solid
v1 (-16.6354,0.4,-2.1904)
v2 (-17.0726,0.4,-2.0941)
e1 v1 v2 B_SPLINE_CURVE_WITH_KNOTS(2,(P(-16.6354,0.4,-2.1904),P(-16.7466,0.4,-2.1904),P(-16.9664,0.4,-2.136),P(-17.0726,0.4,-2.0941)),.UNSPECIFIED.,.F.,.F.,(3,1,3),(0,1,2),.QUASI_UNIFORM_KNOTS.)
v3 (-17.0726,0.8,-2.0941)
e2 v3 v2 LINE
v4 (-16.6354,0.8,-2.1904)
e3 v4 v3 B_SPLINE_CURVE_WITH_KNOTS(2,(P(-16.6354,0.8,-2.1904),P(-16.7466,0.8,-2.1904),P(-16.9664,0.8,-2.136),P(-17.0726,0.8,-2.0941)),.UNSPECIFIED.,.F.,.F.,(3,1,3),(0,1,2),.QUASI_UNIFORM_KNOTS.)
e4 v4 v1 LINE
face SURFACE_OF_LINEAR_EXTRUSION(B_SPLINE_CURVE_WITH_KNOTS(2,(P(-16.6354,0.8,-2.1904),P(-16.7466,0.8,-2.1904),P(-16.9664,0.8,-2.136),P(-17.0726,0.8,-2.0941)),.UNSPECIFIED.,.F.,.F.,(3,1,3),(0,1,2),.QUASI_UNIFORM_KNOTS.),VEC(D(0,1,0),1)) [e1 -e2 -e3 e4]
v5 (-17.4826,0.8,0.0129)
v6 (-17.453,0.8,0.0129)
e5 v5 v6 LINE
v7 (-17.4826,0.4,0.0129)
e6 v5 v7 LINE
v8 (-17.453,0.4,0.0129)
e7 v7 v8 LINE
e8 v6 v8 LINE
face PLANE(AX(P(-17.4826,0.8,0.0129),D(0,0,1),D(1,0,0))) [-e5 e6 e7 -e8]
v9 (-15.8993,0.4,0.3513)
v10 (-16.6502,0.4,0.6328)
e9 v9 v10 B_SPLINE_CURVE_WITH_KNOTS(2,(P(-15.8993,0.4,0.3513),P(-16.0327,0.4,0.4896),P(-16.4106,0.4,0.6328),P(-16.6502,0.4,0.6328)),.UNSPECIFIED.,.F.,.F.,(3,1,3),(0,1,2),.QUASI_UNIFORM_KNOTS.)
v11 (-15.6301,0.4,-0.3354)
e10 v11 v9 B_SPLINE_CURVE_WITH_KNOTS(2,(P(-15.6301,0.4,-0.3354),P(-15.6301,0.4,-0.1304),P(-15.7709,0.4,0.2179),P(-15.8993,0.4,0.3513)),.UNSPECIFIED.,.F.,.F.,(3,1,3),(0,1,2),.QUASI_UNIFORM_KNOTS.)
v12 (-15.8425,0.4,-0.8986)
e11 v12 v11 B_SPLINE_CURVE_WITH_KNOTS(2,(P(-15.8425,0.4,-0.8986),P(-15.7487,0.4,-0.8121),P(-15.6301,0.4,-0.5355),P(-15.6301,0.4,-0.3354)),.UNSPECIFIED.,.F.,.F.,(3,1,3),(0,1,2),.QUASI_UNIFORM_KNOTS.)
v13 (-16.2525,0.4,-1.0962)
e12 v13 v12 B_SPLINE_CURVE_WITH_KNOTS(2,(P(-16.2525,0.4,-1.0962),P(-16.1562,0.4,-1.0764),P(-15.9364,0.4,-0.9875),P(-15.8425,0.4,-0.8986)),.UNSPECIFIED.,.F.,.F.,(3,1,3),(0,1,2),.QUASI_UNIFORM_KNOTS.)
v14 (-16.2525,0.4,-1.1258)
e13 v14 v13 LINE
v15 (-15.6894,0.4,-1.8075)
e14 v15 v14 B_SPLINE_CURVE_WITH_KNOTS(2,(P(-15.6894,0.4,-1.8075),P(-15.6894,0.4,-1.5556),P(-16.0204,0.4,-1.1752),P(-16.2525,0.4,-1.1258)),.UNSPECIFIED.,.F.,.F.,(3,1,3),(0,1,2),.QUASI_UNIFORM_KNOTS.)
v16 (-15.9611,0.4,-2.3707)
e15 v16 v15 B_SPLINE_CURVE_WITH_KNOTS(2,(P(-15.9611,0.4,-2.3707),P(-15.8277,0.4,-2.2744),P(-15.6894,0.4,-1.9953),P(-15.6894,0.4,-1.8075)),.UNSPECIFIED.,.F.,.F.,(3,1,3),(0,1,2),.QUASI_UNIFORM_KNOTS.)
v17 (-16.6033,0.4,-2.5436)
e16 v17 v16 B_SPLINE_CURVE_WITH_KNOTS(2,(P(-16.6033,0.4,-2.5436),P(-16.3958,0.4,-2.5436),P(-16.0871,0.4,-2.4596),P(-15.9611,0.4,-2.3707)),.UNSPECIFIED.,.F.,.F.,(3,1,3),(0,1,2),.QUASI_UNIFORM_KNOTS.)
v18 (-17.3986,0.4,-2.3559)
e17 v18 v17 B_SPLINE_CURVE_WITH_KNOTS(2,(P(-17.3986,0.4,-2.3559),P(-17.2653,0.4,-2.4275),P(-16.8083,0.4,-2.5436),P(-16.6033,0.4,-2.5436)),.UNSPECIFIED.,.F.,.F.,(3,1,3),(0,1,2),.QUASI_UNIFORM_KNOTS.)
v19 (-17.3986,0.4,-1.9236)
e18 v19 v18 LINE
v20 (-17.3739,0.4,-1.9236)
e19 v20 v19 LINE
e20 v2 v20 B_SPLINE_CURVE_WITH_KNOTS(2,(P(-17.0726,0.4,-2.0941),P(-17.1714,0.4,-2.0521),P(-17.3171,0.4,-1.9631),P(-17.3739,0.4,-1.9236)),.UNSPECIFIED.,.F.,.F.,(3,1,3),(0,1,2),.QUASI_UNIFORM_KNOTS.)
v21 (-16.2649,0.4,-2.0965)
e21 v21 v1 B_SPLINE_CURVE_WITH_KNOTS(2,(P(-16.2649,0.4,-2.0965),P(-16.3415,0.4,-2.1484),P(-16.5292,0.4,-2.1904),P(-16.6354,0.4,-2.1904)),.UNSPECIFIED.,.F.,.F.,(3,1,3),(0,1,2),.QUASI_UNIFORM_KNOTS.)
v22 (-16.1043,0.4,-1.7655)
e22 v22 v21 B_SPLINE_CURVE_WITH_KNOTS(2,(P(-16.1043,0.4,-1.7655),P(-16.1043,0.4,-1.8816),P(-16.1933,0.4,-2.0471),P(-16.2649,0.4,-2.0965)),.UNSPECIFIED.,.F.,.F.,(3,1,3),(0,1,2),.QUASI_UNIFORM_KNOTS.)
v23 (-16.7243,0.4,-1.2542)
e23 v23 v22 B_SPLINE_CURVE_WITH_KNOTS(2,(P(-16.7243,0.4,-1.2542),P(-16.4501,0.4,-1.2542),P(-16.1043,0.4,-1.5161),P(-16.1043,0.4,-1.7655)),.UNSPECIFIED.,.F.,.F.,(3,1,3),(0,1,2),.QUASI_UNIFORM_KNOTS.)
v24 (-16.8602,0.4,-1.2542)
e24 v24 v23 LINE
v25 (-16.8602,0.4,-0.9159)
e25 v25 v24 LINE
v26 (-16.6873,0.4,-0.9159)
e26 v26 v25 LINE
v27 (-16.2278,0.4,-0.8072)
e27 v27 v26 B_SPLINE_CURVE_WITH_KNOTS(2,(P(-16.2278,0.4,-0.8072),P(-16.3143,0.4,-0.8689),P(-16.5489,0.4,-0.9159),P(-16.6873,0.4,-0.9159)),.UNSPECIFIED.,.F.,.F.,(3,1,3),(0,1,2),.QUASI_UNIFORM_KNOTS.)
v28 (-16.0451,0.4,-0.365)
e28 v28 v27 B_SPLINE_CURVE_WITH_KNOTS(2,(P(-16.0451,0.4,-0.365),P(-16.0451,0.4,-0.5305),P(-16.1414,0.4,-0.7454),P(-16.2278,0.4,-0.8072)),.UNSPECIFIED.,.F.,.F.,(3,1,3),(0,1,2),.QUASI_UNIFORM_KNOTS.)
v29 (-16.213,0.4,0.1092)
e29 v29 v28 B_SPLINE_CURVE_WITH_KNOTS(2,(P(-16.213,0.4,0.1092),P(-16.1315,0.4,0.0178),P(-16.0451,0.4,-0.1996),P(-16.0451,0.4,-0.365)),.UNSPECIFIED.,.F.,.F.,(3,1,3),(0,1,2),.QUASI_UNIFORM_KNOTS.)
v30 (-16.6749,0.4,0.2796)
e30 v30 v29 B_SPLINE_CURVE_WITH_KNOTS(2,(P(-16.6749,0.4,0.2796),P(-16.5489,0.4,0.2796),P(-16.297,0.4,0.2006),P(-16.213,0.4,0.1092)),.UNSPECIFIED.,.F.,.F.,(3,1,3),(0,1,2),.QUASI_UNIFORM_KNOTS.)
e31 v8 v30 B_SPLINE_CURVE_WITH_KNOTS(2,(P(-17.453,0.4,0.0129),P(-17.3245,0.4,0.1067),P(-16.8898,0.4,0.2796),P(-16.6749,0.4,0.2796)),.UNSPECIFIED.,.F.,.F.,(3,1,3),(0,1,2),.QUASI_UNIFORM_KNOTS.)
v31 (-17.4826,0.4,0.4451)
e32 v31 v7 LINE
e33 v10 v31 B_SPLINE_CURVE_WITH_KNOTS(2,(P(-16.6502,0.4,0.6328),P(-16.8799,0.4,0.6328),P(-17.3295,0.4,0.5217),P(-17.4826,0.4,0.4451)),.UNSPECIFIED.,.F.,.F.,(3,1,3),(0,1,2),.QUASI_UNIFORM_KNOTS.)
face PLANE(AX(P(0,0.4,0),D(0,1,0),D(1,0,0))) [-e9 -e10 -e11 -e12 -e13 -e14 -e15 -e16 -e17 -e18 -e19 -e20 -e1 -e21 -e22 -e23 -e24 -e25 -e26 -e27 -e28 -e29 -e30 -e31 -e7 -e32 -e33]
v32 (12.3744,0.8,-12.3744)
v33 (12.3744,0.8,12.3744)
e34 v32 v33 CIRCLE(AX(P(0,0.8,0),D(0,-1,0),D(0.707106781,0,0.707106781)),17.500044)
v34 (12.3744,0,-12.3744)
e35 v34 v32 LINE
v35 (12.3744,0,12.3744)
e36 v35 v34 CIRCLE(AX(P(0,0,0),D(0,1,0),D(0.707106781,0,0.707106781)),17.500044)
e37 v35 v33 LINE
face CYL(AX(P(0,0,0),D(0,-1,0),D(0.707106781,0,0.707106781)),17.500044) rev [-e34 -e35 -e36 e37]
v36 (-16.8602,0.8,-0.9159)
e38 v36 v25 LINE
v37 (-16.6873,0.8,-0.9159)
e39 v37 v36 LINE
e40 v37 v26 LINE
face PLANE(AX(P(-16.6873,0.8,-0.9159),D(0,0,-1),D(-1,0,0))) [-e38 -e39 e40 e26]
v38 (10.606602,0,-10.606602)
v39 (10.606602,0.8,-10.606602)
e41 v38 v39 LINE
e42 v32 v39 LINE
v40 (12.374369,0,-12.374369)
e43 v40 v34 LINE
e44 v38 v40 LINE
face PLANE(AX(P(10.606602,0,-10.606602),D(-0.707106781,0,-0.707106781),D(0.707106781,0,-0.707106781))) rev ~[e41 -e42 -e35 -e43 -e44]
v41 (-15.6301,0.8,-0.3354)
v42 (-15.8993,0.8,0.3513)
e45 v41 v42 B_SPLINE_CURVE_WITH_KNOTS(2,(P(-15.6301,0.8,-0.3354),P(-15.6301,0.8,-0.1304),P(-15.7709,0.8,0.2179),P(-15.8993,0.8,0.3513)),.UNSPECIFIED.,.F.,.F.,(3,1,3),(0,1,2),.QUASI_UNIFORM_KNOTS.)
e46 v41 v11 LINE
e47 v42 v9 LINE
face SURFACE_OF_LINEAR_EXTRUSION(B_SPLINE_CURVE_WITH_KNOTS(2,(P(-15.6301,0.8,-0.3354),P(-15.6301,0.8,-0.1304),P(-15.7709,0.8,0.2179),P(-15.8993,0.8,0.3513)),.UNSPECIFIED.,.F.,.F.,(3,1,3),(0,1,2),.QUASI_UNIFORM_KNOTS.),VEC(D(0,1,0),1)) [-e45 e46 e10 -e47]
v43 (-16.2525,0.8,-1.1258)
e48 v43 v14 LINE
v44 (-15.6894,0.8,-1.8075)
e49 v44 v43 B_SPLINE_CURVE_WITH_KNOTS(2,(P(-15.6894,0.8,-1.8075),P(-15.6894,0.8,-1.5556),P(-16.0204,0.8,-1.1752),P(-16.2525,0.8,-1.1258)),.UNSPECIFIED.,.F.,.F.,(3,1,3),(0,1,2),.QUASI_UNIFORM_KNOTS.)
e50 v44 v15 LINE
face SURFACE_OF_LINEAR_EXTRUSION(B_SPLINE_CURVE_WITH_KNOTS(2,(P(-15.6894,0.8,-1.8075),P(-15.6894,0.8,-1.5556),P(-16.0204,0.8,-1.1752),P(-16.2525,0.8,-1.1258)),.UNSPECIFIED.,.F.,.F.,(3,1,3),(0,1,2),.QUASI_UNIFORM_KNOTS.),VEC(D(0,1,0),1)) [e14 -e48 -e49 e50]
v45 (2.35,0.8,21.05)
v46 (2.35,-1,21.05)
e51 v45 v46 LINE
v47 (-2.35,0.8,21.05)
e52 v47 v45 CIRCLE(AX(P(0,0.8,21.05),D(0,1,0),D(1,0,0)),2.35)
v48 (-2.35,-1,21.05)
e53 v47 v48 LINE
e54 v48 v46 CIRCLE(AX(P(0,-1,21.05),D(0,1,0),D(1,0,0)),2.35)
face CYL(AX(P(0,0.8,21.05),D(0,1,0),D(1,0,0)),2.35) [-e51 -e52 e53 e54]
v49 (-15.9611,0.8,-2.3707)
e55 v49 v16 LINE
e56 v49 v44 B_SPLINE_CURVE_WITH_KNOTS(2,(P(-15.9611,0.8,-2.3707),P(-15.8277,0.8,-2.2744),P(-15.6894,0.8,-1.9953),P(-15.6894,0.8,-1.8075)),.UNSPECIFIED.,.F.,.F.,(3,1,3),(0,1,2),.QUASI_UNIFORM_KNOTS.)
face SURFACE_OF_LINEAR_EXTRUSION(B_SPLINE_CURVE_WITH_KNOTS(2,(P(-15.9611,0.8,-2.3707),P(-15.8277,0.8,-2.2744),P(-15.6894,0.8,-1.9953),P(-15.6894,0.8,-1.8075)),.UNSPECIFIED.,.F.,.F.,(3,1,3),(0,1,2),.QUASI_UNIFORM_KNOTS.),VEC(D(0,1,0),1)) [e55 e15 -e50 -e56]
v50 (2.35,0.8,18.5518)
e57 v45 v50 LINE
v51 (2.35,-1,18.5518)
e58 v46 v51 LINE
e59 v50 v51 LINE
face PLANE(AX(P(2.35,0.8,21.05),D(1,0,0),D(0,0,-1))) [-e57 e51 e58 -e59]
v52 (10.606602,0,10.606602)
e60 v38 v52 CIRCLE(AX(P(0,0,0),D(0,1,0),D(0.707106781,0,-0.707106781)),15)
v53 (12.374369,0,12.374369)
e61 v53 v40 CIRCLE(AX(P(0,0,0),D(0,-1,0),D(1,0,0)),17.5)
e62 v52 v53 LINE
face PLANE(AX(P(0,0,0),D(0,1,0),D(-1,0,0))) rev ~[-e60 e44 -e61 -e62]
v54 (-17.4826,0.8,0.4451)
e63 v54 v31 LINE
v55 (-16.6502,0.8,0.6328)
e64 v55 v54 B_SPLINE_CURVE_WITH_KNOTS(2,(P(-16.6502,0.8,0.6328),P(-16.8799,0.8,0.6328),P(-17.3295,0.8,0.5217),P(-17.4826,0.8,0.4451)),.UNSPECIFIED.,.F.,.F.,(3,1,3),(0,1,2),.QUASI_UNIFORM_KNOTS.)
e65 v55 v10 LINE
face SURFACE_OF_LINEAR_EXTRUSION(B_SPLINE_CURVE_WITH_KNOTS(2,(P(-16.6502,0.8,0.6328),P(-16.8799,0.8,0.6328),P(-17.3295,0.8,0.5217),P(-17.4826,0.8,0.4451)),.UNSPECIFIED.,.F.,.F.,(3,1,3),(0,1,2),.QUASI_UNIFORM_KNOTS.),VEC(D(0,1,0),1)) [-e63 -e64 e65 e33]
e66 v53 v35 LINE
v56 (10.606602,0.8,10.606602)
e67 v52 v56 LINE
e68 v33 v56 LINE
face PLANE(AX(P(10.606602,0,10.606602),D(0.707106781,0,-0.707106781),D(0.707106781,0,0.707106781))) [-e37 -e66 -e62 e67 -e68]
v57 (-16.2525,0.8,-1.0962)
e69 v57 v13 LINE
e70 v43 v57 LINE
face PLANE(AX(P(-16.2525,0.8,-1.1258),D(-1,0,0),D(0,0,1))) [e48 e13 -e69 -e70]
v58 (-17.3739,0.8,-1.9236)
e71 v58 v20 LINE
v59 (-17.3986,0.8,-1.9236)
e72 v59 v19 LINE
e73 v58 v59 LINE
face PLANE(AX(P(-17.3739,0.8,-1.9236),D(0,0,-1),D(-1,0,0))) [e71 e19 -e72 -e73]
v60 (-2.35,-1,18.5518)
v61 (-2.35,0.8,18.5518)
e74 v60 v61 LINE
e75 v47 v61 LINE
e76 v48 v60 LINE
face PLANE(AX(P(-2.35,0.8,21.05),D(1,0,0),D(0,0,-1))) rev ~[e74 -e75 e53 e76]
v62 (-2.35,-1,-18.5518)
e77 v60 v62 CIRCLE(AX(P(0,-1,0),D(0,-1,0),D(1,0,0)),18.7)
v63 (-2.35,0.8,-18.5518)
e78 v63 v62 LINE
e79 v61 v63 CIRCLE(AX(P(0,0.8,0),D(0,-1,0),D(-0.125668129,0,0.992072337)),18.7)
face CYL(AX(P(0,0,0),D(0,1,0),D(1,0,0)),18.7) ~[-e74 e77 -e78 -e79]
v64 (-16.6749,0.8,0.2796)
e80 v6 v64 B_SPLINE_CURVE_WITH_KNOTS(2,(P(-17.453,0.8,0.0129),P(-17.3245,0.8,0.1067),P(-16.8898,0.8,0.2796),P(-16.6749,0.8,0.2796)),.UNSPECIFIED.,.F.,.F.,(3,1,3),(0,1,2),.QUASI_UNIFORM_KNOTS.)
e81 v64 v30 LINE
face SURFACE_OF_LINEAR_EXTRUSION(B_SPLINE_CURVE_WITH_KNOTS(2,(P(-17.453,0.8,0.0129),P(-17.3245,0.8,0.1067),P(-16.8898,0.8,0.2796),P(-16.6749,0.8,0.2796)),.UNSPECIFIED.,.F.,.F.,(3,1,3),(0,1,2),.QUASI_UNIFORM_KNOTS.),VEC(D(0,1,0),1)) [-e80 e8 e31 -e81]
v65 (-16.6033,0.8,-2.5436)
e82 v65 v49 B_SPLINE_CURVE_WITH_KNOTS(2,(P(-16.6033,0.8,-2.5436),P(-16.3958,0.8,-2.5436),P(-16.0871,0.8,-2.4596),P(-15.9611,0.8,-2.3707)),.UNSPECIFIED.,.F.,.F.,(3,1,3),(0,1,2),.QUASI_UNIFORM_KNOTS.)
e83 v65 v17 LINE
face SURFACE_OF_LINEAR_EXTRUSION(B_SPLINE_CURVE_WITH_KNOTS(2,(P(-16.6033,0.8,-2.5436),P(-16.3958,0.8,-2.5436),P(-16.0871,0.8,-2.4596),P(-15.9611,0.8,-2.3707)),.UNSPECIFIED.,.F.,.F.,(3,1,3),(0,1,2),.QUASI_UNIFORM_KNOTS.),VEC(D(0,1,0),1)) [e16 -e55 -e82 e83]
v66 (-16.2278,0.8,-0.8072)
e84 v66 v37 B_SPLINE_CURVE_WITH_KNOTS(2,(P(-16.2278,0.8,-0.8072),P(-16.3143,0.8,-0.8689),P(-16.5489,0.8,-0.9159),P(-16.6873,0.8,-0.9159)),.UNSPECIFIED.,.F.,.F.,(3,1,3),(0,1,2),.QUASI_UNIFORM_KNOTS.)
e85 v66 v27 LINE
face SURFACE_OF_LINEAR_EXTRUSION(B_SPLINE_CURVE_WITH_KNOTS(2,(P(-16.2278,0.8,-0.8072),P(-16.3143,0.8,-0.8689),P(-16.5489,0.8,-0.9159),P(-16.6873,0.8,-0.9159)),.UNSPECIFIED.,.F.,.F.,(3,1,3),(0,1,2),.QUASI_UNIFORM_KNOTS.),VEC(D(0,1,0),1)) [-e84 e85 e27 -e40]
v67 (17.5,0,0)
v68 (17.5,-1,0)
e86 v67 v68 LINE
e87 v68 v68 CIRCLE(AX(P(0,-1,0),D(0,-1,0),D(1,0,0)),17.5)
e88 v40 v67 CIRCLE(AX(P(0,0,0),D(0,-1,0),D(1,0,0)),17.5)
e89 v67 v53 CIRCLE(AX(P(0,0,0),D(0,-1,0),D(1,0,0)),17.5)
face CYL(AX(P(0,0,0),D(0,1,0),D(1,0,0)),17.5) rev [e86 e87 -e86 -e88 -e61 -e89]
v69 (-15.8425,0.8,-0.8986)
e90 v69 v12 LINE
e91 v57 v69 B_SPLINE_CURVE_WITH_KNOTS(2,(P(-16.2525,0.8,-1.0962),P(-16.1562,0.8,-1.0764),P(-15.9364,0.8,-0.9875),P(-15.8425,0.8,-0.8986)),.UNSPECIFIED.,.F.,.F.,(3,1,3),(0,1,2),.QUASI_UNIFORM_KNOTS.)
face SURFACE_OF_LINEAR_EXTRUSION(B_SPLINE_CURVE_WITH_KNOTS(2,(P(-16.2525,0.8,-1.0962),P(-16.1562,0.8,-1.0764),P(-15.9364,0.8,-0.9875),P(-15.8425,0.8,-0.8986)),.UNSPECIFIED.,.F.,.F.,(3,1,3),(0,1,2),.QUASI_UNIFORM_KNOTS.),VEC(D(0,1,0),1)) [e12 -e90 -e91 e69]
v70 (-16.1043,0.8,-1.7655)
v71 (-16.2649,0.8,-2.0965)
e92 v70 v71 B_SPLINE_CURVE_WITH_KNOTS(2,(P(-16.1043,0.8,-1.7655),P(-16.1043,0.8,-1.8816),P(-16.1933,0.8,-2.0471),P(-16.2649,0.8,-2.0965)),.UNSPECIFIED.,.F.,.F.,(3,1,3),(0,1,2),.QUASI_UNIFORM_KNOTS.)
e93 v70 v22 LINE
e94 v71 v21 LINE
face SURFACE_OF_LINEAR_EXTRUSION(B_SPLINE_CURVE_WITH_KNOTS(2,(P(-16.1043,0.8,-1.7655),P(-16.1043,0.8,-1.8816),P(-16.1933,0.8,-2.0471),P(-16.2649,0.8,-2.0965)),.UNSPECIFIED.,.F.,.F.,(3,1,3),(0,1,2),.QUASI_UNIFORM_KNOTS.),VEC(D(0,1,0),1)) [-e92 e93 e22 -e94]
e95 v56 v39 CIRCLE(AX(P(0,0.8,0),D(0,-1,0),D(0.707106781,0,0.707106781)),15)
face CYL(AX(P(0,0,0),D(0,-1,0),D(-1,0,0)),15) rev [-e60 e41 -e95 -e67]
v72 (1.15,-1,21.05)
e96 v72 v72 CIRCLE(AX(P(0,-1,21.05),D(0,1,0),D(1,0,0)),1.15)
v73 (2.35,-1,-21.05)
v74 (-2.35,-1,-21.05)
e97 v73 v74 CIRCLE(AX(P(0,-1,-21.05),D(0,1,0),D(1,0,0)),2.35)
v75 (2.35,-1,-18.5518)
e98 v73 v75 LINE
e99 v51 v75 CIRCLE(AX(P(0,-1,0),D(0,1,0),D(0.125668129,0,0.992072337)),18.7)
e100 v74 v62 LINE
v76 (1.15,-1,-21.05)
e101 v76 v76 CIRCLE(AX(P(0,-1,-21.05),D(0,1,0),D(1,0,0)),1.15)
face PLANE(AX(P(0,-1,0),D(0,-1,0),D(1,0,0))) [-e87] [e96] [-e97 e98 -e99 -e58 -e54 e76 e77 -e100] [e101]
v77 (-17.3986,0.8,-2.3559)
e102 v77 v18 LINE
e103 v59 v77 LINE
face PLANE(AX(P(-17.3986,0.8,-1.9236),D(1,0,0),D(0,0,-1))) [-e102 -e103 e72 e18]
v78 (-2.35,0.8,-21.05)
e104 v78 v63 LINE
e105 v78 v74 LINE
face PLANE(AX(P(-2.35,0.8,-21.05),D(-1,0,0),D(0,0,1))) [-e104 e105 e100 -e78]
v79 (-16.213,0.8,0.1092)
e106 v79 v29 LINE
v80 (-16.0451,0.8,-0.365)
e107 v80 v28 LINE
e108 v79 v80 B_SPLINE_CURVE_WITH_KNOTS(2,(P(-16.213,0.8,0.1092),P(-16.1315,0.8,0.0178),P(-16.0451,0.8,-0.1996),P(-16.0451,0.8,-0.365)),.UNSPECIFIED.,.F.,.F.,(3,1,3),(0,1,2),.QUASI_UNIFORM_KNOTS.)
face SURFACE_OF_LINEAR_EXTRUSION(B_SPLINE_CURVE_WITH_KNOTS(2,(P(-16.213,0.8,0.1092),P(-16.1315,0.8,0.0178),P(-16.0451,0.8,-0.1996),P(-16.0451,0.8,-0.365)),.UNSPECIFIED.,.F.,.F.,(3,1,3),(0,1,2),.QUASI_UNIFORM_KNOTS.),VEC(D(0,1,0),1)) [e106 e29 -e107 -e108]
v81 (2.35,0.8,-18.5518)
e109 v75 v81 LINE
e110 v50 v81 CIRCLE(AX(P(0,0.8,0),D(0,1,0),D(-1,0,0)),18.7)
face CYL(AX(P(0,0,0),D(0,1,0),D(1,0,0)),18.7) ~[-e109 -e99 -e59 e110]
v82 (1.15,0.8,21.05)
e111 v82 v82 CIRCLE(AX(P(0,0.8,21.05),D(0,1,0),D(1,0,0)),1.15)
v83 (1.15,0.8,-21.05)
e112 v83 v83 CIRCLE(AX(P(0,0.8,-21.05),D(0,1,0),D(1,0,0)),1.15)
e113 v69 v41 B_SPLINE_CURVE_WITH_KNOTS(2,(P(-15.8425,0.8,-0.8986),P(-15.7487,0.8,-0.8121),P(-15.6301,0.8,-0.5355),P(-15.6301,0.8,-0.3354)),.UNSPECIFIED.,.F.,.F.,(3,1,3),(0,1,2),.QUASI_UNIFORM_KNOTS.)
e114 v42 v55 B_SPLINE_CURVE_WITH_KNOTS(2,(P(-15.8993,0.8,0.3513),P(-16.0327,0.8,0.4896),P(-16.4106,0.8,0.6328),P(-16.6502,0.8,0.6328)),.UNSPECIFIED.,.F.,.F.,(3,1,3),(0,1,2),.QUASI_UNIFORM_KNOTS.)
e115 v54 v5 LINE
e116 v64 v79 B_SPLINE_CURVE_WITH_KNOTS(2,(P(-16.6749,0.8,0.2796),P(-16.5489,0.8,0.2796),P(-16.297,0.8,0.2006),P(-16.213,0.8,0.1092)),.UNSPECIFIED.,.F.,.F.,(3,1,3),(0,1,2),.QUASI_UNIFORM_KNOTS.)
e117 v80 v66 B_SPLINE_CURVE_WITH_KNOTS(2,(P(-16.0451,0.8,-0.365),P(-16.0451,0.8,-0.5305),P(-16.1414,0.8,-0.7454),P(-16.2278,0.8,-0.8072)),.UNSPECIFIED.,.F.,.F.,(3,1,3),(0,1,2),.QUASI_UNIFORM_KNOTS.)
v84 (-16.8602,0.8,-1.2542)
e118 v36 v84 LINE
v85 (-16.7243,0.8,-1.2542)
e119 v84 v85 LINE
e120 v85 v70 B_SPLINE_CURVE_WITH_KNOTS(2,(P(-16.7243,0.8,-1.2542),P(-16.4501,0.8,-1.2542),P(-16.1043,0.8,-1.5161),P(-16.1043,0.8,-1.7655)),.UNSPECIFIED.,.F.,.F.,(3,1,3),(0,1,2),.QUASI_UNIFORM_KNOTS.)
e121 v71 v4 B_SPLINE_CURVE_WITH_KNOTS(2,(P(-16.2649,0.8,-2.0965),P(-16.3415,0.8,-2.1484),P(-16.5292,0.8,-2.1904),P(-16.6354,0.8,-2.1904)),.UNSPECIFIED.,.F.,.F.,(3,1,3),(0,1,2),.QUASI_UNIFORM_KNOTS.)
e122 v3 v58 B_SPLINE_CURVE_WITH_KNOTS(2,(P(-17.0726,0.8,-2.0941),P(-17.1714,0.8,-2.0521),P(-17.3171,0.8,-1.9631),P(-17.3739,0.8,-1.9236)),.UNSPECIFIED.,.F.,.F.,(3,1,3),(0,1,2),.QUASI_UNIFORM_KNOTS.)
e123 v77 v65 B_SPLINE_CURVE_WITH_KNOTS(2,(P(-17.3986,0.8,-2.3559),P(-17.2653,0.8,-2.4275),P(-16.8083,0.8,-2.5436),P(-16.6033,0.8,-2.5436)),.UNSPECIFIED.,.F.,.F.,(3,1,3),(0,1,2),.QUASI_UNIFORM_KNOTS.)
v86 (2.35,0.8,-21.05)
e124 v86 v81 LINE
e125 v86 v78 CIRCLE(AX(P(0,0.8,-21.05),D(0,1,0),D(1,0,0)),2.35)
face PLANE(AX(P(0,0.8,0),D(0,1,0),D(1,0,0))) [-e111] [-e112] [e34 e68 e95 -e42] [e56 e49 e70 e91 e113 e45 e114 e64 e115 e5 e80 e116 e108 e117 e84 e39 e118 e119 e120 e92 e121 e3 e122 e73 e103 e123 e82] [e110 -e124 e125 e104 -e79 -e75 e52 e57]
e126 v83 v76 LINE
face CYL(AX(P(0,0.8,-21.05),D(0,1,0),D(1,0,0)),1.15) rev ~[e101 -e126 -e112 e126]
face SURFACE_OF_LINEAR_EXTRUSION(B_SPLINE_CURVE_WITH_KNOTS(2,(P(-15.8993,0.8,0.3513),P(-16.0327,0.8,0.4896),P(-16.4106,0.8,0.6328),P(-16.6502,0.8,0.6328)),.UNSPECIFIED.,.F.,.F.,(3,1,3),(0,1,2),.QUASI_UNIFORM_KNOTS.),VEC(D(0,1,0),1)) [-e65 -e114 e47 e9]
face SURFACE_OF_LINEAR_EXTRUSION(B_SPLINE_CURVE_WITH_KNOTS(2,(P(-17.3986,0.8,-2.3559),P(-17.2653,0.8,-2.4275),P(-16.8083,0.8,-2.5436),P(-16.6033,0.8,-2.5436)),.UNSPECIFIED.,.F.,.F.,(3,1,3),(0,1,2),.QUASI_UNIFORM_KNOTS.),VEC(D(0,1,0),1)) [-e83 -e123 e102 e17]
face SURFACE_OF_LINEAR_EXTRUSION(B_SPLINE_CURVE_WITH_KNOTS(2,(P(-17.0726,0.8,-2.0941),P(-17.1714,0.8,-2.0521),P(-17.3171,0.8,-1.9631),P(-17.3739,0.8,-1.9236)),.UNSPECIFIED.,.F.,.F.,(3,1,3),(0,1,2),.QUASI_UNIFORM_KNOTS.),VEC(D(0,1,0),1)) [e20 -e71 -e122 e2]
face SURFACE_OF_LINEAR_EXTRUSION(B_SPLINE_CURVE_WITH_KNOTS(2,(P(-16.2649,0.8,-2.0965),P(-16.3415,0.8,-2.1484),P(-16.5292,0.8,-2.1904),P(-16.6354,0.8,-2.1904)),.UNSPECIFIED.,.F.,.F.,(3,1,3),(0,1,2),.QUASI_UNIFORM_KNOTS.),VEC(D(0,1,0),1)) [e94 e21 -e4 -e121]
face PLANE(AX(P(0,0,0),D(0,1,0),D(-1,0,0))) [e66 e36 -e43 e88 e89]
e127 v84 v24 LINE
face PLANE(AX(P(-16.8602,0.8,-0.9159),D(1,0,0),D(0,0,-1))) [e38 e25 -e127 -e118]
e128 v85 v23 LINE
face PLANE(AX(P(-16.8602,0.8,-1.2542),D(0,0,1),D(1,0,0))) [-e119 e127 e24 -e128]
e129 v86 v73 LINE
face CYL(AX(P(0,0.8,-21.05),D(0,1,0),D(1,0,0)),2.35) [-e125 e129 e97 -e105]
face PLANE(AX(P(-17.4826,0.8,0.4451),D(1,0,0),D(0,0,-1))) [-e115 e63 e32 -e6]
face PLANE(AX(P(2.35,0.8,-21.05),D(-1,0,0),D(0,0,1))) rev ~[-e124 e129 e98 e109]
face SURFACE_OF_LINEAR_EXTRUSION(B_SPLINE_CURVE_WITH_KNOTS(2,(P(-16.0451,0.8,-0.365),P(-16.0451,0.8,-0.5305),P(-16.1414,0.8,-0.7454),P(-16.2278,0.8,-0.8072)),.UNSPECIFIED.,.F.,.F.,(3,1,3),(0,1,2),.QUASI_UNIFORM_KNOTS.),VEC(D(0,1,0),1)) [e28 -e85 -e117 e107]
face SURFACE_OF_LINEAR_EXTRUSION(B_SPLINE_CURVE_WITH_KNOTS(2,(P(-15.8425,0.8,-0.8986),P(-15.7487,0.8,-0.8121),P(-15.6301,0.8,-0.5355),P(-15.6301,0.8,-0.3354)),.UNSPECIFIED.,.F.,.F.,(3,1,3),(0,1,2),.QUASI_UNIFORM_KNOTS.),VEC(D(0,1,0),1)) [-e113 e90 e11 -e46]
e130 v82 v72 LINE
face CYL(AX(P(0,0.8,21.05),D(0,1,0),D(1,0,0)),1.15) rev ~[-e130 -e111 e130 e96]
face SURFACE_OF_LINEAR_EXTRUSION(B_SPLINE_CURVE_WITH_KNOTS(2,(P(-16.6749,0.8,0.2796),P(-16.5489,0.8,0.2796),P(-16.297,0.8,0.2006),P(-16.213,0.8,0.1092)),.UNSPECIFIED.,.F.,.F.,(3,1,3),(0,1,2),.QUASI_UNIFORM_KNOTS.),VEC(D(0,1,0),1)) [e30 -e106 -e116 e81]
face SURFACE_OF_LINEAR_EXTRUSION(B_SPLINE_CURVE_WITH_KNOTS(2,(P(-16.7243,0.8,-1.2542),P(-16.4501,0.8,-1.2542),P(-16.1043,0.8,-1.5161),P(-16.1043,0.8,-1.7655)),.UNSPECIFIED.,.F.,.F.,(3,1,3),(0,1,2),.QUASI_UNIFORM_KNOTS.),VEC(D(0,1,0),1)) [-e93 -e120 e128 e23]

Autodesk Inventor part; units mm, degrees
ref_plane "YZ Plane" through (0, 0, 0) normal (1, 0, 0) x (0, 1, 0)
ref_plane "XZ Plane" through (0, 0, 0) normal (0, 1, 0) x (-1, 0, 0)
ref_plane "XY Plane" through (0, 0, 0) normal (0, 0, 1) x (1, 0, 0)
sketch "Sketch1" plane through (0, 0, 0) normal (0, 1, 0) x (-1, 0, 0)
  circle A0 centre (0, 0) radius 17 construction
  circle A1 centre (0, 0) radius 15
  circle A2 centre (0, 0) radius 18.7
  line L0 (0, 0) -> (-13.2229, 13.2229)
  line L1 (0, 0) -> (17, 0) construction
  line L2 (0, 0) -> (-13.2229, -13.2229)
  line L3 (0, 0) -> (17, 0) construction
  arc A3 (-12.3744, 12.3744) -> (-12.3744, -12.3744) centre (0, 0) ccw
  point P0 (-10.6066, -10.6066)
  point P1 (-10.6066, 10.6066)
  dimension "d0" = 34
  dimension "d1" = 2
  dimension "d2" = 1.7
  dimension "d14" = 135
  dimension "d15" = 135
  dimension "d17" = 35
extrude "Extrusion1" add sketch "Sketch1" along normal blind 0.8 contours A1 L0 A2 L2 | A1 L2 A3 L0 | A3 L2 A2 L0
sketch "Sketch2" plane through (0, 0, 0) normal (0, -1, 0) x (1, 0, 0)
  circle A0 centre (0, 0) radius 18.7 projected
  circle A1 centre (0, 0) radius 17.5
  dimension "d5" = 1.2
extrude "Extrusion2" add sketch "Sketch2" along normal blind 1
extrude "Extrusion5" cut sketch "Sketch1" along normal blind 1 contours A1 L2 A3 L0
sketch "Sketch3" plane through (0, 0.8, 0) normal (0, 1, 0) x (1, 0, 0)
  circle A0 centre (0, 0) radius 18.7 projected
  circle A1 centre (0, 21.05) radius 1.15
  circle A2 centre (0, 21.05) radius 2.35
  line L0 (2.35, 21.05) -> (2.35, 18.5518)
  line L1 (-2.35, 21.05) -> (-2.35, 18.5518)
  line L2 (0, 0) -> (1.9485, 0)
  circle A3 centre (0, 0) radius 18.7
  circle A4 centre (0, -21.05) radius 1.15
  circle A5 centre (0, -21.05) radius 2.35
  line L3 (2.35, -21.05) -> (2.35, -18.5518)
  line L4 (-2.35, -21.05) -> (-2.35, -18.5518)
  dimension "d8" = 2.3
  dimension "d9" = 1.2
extrude "Extrusion3" add sketch "Sketch3" against normal up to surface (1.8 mm away) contours A0 A2 L0 | L3 A5 A0 | A0 L1 A2 | A2 | A5 L4 A0 | A5
sketch "Sketch4" plane through (0, 0.8, 0) normal (0, 1, 0) x (1, 0, 0)
  line L0 (-17.6802, 2.5436) -> (-15.393, 2.5436) construction
  line L1 (-15.393, 2.5436) -> (-15.393, -0.5686) construction
  line L2 (-15.393, -0.5686) -> (-17.6802, -0.5686) construction
  line L3 (-17.6802, -0.5686) -> (-17.6802, 2.5436) construction
  spline S0 degree 2 poles (-16.6354, 2.1904) (-16.7466, 2.1904) (-16.9664, 2.136) (-17.0726, 2.0941) knots 0 0 0 1 2 2 2
  spline S1 degree 2 poles (-17.0726, 2.0941) (-17.1714, 2.0521) (-17.3171, 1.9631) (-17.3739, 1.9236) knots 0 0 0 1 2 2 2
  line L4 (-17.3739, 1.9236) -> (-17.3986, 1.9236)
  line L5 (-17.3986, 1.9236) -> (-17.3986, 2.3559)
  spline S2 degree 2 poles (-17.3986, 2.3559) (-17.2653, 2.4275) (-16.8083, 2.5436) (-16.6033, 2.5436) knots 0 0 0 1 2 2 2
  spline S3 degree 2 poles (-16.6033, 2.5436) (-16.3958, 2.5436) (-16.0871, 2.4596) (-15.9611, 2.3707) knots 0 0 0 1 2 2 2
  spline S4 degree 2 poles (-15.9611, 2.3707) (-15.8277, 2.2744) (-15.6894, 1.9953) (-15.6894, 1.8075) knots 0 0 0 1 2 2 2
  spline S5 degree 2 poles (-15.6894, 1.8075) (-15.6894, 1.5556) (-16.0204, 1.1752) (-16.2525, 1.1258) knots 0 0 0 1 2 2 2
  line L6 (-16.2525, 1.1258) -> (-16.2525, 1.0962)
  spline S6 degree 2 poles (-16.2525, 1.0962) (-16.1562, 1.0764) (-15.9364, 0.9875) (-15.8425, 0.8986) knots 0 0 0 1 2 2 2
  spline S7 degree 2 poles (-15.8425, 0.8986) (-15.7487, 0.8121) (-15.6301, 0.5355) (-15.6301, 0.3354) knots 0 0 0 1 2 2 2
  spline S8 degree 2 poles (-15.6301, 0.3354) (-15.6301, 0.1304) (-15.7709, -0.2179) (-15.8993, -0.3513) knots 0 0 0 1 2 2 2
  spline S9 degree 2 poles (-15.8993, -0.3513) (-16.0327, -0.4896) (-16.4106, -0.6328) (-16.6502, -0.6328) knots 0 0 0 1 2 2 2
  spline S10 degree 2 poles (-16.6502, -0.6328) (-16.8799, -0.6328) (-17.3295, -0.5217) (-17.4826, -0.4451) knots 0 0 0 1 2 2 2
  line L7 (-17.4826, -0.4451) -> (-17.4826, -0.0129)
  line L8 (-17.4826, -0.0129) -> (-17.453, -0.0129)
  spline S11 degree 2 poles (-17.453, -0.0129) (-17.3245, -0.1067) (-16.8898, -0.2796) (-16.6749, -0.2796) knots 0 0 0 1 2 2 2
  spline S12 degree 2 poles (-16.6749, -0.2796) (-16.5489, -0.2796) (-16.297, -0.2006) (-16.213, -0.1092) knots 0 0 0 1 2 2 2
  spline S13 degree 2 poles (-16.213, -0.1092) (-16.1315, -0.0178) (-16.0451, 0.1996) (-16.0451, 0.365) knots 0 0 0 1 2 2 2
  spline S14 degree 2 poles (-16.0451, 0.365) (-16.0451, 0.5305) (-16.1414, 0.7454) (-16.2278, 0.8072) knots 0 0 0 1 2 2 2
  spline S15 degree 2 poles (-16.2278, 0.8072) (-16.3143, 0.8689) (-16.5489, 0.9159) (-16.6873, 0.9159) knots 0 0 0 1 2 2 2
  line L9 (-16.6873, 0.9159) -> (-16.8602, 0.9159)
  line L10 (-16.8602, 0.9159) -> (-16.8602, 1.2542)
  line L11 (-16.8602, 1.2542) -> (-16.7243, 1.2542)
  spline S16 degree 2 poles (-16.7243, 1.2542) (-16.4501, 1.2542) (-16.1043, 1.5161) (-16.1043, 1.7655) knots 0 0 0 1 2 2 2
  spline S17 degree 2 poles (-16.1043, 1.7655) (-16.1043, 1.8816) (-16.1933, 2.0471) (-16.2649, 2.0965) knots 0 0 0 1 2 2 2
  spline S18 degree 2 poles (-16.2649, 2.0965) (-16.3415, 2.1484) (-16.5292, 2.1904) (-16.6354, 2.1904) knots 0 0 0 1 2 2 2
  point P0 (0, 0)
  dimension "d1" = 2
extrude "Extrusion4" cut sketch "Sketch4" against normal blind 0.4
properties part number "speaker clamp v1"
